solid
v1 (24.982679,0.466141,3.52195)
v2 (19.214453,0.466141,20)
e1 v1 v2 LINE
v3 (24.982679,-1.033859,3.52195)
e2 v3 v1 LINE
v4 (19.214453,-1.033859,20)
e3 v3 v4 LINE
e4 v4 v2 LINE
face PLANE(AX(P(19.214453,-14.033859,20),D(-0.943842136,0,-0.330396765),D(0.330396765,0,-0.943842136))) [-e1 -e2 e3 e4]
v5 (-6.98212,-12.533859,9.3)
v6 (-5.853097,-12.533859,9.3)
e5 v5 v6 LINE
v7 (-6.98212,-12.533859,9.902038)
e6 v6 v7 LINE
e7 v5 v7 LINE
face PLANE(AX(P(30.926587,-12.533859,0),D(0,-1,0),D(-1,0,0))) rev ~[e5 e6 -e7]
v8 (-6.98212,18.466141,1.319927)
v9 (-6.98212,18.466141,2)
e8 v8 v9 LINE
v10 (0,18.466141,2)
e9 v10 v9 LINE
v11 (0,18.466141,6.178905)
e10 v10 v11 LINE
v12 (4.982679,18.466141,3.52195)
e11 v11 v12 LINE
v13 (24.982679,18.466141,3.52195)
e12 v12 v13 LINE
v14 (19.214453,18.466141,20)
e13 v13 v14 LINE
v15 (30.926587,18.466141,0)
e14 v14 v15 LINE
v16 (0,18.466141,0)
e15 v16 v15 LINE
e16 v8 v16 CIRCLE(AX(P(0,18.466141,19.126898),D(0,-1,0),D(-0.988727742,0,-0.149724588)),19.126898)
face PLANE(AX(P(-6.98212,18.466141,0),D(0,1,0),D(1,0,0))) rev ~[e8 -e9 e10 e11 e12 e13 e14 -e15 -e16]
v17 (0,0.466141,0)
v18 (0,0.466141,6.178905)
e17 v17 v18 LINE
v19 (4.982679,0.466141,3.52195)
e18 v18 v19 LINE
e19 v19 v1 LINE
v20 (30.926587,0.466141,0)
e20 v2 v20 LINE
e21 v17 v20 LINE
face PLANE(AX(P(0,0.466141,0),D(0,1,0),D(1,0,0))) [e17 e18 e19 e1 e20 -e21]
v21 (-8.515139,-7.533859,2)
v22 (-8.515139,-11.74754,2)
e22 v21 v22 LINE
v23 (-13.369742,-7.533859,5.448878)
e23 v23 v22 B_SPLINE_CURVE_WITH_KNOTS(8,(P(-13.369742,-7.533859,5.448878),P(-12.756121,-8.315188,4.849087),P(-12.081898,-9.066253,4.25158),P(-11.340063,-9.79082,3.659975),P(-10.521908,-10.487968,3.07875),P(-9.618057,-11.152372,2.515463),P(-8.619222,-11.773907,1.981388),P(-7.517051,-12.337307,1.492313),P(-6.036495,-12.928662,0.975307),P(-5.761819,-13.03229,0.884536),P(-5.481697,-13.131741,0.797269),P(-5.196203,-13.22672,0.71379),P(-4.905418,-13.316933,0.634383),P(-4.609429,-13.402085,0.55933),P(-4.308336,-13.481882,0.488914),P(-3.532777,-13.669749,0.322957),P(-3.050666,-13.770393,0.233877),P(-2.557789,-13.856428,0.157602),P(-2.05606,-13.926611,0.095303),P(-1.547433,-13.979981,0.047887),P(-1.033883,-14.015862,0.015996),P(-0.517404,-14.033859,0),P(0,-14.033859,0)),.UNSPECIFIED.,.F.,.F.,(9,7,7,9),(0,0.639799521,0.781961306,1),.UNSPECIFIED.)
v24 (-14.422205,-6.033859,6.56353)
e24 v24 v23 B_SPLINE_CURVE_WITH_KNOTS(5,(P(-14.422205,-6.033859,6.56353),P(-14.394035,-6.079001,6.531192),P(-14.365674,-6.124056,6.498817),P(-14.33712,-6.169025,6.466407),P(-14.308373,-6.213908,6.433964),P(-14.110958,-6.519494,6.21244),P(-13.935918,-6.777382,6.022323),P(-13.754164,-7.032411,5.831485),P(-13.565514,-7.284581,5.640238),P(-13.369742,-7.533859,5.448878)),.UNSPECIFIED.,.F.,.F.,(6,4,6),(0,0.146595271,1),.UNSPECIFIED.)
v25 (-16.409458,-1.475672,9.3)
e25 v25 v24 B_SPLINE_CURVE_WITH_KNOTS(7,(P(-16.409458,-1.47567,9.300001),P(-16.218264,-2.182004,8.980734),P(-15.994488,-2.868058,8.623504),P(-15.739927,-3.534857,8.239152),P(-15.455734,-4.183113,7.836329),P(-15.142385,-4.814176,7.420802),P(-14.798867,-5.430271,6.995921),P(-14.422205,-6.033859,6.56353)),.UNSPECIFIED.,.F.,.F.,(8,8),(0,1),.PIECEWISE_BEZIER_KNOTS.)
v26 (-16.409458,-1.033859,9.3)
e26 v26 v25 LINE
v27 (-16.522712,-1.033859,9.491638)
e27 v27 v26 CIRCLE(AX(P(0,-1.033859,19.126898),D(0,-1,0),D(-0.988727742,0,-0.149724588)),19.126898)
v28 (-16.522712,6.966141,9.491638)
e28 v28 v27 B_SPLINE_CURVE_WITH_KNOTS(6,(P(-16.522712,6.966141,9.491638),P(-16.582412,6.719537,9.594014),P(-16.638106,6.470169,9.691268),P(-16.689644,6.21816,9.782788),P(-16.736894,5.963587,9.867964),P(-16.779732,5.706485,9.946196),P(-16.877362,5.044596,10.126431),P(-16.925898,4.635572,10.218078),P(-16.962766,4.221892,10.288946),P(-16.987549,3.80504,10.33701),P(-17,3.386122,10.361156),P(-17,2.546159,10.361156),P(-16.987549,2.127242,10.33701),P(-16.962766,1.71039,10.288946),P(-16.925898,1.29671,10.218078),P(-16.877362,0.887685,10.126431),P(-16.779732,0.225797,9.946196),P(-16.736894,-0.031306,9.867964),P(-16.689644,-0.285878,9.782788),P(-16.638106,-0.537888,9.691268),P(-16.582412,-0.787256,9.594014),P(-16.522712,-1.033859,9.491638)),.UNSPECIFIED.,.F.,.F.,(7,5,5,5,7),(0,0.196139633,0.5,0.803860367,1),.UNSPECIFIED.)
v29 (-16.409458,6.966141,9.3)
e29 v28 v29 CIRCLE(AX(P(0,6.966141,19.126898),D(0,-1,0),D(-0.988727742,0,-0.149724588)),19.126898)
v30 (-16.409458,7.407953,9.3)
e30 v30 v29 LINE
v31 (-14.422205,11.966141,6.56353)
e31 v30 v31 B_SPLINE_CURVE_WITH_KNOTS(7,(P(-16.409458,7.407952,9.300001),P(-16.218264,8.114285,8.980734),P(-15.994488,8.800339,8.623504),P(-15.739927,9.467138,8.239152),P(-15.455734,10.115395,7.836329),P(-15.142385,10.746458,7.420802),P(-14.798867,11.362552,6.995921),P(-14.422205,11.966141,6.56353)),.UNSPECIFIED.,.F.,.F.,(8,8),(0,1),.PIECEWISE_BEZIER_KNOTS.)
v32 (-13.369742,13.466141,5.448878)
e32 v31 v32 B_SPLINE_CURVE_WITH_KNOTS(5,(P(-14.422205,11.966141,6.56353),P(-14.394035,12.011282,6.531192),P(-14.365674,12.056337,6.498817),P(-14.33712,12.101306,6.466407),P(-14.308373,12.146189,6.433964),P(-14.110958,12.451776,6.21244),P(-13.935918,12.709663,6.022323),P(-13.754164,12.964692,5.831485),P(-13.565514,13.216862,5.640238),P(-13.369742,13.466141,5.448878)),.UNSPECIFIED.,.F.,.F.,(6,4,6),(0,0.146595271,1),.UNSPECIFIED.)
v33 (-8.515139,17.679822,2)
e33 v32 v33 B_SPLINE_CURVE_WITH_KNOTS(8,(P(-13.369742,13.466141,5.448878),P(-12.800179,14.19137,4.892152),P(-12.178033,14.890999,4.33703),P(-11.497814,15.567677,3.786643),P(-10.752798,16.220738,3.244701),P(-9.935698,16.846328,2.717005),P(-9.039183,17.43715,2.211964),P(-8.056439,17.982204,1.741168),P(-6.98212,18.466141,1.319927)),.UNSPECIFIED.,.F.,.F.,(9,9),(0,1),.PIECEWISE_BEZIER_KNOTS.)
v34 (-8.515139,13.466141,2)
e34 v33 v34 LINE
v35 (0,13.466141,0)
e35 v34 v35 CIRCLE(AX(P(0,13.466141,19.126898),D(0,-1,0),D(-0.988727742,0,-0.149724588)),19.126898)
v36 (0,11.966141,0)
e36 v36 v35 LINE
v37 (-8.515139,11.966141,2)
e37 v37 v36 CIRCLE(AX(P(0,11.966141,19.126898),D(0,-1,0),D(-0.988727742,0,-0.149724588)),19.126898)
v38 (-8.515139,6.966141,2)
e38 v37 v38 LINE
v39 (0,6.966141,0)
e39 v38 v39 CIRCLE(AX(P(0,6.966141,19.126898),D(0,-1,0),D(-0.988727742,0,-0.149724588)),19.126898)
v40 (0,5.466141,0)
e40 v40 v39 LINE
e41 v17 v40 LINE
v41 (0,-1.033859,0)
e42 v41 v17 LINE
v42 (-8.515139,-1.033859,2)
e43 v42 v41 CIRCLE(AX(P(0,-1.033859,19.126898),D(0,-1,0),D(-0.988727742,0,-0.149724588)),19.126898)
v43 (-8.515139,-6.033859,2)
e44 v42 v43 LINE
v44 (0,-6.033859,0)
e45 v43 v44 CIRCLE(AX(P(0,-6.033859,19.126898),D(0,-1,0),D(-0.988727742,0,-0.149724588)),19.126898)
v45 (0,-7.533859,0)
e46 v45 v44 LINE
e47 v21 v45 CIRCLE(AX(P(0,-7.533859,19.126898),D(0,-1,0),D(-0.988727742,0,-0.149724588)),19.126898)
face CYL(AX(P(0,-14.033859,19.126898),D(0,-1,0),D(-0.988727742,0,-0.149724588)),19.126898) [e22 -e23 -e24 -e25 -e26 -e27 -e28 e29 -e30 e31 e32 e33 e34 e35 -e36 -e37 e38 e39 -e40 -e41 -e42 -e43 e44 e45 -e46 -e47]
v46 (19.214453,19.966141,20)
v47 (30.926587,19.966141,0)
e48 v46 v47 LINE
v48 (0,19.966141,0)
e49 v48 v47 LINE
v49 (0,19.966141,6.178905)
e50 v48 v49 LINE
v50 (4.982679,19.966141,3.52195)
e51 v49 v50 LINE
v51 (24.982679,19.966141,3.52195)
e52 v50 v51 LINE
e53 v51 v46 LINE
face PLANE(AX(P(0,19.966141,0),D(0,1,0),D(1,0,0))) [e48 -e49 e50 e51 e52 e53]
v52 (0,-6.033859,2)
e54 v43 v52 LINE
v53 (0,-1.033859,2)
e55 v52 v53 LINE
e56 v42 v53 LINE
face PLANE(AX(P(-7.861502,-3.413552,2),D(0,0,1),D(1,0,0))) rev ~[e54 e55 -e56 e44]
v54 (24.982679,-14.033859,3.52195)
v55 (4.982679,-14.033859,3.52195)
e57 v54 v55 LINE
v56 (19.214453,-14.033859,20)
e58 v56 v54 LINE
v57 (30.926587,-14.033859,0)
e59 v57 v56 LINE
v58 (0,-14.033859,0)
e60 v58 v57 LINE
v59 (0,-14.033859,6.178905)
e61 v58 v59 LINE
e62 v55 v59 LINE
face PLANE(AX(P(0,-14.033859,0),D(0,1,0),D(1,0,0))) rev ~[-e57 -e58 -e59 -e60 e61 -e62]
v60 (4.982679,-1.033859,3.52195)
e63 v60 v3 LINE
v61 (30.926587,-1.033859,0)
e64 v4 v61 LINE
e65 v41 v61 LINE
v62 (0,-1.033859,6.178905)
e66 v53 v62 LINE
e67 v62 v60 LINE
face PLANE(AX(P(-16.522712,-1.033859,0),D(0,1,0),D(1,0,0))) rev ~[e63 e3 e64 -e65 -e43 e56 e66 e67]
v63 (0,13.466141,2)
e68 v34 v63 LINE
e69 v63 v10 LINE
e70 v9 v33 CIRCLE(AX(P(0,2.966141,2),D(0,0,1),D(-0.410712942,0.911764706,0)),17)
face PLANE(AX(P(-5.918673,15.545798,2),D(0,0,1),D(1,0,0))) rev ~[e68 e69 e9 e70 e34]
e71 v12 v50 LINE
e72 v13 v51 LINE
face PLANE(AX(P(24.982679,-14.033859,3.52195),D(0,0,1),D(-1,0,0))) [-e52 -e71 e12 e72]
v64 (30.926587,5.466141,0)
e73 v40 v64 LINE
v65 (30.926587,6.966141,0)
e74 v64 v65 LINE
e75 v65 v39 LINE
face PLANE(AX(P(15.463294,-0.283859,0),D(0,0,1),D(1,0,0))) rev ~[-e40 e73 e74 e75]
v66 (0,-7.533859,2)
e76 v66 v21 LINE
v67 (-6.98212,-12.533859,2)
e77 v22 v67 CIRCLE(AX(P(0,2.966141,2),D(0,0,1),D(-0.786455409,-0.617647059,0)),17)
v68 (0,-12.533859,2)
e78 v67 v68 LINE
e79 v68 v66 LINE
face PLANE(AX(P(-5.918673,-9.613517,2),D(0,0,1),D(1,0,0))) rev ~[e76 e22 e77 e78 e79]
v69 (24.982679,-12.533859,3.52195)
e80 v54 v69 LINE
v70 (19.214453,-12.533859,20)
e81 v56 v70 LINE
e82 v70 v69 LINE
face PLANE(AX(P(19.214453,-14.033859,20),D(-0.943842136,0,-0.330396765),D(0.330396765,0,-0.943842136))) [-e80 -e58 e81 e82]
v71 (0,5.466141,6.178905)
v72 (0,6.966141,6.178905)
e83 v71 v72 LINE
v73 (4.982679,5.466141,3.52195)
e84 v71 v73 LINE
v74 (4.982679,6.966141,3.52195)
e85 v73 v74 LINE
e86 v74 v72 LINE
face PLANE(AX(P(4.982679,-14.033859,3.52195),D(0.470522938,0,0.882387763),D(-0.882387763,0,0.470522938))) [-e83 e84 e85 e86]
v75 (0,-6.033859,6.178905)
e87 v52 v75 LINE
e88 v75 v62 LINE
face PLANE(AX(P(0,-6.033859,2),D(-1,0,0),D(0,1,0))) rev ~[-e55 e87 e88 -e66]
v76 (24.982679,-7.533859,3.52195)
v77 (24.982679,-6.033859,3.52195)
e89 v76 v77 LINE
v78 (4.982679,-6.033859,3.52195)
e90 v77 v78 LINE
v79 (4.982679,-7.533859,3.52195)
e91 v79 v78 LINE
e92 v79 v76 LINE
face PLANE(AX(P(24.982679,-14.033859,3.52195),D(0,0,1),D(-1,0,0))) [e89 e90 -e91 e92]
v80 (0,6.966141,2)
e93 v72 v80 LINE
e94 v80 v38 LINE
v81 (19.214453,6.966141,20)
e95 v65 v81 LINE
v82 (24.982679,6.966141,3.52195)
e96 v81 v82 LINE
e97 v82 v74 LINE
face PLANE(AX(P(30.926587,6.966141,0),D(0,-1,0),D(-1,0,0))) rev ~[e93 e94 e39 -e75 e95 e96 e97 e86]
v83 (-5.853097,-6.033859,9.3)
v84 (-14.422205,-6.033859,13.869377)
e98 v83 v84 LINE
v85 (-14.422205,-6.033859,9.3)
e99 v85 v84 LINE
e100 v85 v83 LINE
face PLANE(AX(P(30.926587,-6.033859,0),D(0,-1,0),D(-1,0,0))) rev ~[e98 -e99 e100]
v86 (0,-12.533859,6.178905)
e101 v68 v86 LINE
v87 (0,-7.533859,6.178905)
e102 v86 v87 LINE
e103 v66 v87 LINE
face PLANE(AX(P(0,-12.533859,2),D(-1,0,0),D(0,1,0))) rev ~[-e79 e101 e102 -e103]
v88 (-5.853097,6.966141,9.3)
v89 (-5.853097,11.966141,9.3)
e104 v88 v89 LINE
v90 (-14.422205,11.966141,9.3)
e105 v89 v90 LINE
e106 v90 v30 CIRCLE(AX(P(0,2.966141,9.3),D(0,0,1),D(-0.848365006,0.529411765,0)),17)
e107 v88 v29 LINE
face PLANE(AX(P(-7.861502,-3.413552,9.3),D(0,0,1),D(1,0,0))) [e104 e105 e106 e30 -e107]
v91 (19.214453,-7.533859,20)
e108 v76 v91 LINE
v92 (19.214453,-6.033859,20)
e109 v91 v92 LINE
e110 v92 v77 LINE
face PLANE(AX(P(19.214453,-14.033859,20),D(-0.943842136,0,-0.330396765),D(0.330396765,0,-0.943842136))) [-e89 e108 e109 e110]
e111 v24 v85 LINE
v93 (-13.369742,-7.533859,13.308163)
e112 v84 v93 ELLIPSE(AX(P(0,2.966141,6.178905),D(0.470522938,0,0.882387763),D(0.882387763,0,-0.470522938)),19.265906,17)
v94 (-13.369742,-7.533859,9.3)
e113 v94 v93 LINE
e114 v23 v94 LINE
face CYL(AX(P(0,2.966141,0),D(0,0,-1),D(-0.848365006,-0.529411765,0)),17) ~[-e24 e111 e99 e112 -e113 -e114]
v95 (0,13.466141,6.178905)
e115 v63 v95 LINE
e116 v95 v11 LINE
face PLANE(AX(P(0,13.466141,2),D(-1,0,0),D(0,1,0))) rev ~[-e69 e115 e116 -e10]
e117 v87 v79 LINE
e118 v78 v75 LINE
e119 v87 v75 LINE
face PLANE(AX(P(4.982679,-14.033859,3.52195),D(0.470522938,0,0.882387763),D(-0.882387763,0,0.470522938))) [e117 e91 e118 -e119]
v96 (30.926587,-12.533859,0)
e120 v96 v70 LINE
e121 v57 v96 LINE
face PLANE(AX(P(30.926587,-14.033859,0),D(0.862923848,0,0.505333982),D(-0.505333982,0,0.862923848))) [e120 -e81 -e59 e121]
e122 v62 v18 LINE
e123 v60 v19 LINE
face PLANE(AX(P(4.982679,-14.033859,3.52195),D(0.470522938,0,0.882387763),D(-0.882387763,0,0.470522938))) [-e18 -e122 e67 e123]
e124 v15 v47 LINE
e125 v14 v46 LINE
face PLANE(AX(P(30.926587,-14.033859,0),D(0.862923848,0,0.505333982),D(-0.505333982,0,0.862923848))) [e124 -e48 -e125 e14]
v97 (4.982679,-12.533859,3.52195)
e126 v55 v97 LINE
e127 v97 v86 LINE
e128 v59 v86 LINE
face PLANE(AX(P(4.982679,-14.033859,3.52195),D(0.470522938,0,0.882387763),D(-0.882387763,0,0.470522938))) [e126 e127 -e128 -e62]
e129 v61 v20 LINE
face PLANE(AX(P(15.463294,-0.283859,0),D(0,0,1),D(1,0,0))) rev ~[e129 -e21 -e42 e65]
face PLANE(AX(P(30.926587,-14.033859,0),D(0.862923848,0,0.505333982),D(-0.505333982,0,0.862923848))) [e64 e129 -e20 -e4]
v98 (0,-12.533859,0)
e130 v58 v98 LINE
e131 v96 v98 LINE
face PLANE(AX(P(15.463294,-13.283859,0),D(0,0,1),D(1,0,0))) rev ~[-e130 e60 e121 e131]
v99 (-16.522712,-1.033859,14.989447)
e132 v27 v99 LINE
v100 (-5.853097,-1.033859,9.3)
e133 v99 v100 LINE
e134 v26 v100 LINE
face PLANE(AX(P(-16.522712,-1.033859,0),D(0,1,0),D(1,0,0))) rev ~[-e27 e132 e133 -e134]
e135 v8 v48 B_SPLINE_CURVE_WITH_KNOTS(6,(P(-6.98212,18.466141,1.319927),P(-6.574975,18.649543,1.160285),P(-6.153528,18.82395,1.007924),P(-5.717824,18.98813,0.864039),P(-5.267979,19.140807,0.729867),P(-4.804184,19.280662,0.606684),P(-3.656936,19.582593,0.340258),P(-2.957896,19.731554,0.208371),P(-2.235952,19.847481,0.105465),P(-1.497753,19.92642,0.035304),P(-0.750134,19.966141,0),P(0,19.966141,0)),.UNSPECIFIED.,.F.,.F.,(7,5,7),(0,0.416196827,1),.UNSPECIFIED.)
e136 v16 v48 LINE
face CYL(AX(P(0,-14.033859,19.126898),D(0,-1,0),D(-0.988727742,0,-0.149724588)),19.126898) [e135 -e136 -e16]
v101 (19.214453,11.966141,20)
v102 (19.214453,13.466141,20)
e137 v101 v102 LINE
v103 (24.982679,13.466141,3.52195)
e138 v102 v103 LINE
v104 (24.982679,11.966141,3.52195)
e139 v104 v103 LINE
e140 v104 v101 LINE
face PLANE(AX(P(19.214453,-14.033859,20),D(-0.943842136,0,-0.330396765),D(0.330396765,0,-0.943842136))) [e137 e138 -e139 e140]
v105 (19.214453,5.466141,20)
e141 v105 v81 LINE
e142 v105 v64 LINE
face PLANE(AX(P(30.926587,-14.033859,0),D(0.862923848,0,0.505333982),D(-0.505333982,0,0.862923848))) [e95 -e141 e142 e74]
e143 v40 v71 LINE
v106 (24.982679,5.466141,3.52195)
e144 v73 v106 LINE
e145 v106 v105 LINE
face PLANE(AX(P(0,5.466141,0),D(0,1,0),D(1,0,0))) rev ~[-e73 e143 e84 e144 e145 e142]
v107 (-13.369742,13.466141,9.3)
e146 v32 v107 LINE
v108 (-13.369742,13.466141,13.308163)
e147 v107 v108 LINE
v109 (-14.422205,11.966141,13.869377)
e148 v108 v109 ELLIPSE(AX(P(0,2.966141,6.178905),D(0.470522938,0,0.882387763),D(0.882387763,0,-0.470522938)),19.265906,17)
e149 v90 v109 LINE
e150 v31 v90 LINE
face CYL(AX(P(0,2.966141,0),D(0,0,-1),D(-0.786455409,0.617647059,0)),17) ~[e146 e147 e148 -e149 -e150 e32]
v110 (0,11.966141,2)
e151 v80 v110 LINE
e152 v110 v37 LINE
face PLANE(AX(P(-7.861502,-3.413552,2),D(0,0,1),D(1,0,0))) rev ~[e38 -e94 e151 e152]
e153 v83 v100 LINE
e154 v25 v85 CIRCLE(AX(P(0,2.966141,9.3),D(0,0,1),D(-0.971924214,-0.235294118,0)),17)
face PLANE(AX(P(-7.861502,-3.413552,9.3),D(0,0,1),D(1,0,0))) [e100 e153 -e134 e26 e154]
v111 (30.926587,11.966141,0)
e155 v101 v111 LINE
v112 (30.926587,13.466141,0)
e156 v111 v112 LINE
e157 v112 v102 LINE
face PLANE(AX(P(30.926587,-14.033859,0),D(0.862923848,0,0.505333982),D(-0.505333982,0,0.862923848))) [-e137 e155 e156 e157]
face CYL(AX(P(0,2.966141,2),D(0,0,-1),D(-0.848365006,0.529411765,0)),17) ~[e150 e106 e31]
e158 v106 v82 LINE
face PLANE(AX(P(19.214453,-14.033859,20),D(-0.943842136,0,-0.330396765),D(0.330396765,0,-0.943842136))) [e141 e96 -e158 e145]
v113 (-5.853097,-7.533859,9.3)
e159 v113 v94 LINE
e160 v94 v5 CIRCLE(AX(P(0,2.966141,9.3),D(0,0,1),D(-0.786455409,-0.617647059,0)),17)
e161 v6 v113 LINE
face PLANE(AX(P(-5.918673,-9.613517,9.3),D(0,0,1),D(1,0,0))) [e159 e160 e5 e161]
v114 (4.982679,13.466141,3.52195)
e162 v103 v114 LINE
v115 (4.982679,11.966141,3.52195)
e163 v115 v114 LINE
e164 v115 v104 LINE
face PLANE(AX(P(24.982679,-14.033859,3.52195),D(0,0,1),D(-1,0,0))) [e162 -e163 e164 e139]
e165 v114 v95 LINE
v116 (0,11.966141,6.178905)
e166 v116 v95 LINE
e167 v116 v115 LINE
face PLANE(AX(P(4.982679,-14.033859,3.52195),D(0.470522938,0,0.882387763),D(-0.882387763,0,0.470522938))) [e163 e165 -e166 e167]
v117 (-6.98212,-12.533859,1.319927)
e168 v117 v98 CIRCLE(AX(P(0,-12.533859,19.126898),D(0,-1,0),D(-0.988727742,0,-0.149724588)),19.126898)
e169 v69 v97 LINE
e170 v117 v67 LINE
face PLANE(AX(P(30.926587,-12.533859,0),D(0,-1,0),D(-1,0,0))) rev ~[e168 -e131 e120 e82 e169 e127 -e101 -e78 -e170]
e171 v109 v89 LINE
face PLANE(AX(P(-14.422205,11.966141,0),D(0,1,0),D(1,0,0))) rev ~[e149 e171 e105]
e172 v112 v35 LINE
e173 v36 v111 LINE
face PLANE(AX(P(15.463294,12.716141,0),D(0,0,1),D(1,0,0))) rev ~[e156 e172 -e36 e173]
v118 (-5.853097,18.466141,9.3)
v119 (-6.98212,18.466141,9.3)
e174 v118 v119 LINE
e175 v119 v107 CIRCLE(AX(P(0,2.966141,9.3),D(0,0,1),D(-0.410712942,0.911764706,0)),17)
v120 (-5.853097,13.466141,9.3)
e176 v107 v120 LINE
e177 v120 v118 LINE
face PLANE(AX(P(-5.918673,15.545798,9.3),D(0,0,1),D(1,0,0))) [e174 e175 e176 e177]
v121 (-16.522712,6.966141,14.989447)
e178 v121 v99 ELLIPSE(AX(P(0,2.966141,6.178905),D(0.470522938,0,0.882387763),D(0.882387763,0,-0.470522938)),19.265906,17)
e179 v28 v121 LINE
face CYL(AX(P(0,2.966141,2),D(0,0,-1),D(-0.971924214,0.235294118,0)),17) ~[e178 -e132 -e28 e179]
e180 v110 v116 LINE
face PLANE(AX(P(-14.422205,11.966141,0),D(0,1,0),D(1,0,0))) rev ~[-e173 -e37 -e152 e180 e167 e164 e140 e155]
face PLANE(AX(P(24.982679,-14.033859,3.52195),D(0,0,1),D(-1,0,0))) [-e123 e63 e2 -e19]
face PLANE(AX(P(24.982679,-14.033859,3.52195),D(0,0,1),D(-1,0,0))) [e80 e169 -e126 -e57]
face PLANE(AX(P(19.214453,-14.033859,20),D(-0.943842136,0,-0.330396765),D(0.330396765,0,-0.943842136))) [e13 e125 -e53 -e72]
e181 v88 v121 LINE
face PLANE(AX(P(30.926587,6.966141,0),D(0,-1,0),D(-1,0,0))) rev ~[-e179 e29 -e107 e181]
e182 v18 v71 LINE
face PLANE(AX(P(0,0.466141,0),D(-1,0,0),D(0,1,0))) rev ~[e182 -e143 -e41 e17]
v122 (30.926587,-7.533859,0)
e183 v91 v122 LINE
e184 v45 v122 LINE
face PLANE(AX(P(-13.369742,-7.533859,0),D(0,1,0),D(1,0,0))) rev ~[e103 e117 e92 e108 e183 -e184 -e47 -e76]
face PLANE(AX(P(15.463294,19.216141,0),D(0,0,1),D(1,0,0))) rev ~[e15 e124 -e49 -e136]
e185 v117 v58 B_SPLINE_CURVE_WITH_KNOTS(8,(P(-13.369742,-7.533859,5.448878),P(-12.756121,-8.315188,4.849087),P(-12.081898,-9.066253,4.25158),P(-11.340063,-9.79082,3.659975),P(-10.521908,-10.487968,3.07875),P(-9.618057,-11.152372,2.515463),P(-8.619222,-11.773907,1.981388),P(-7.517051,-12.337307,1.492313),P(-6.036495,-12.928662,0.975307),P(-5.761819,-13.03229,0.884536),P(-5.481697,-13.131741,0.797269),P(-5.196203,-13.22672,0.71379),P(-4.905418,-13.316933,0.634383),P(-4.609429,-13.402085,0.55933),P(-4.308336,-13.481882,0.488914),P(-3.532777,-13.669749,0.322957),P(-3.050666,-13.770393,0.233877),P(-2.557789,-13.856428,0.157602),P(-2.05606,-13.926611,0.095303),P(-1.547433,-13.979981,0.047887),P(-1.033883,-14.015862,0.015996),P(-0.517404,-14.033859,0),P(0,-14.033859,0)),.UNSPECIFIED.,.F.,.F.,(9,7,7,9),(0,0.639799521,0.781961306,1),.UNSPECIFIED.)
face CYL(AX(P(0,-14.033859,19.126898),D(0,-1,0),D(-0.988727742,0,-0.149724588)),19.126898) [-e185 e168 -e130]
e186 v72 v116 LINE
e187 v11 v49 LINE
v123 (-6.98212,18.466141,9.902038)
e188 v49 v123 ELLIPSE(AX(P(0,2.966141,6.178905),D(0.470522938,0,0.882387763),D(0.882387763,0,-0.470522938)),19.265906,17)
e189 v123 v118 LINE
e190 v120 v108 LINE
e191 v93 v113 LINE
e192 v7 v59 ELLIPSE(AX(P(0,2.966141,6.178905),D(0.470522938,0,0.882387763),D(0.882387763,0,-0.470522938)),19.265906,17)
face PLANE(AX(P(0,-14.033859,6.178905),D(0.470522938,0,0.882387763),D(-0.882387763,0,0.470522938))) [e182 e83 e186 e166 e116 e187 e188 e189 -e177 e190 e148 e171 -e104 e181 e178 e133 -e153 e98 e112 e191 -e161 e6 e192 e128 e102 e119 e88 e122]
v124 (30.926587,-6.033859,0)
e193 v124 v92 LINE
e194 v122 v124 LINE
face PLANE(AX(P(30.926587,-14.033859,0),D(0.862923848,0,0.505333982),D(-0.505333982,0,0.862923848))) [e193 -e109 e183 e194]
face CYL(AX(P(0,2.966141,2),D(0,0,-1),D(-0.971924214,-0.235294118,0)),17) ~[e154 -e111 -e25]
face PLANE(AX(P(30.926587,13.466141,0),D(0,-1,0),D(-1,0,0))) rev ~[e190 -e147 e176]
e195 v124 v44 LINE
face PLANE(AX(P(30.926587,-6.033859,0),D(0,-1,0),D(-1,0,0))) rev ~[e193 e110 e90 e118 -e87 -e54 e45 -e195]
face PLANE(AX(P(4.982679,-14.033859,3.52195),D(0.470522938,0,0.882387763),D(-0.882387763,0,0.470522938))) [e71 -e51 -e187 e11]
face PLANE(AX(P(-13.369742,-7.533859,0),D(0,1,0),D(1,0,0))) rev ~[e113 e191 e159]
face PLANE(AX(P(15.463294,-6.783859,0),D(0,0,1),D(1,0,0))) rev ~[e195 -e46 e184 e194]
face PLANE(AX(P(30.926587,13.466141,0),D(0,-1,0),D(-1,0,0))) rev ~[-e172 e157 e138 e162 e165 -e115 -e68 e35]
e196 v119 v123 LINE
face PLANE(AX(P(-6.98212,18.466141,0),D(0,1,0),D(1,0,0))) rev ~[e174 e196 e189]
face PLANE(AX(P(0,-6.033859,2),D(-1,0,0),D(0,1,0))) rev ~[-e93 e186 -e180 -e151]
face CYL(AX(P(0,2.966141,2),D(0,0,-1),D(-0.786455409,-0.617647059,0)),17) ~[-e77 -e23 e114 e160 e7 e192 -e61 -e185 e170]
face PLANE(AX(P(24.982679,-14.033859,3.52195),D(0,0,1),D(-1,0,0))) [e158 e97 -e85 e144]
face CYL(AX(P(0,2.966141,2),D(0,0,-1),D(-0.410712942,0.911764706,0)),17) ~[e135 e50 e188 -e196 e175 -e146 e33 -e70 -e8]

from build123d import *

# Parameters (mm, degrees)
F0_W     = 30.9265870601
F0_H     = 1.5
F1_DEPTH = 20
F2_START = 2
F2_DEPTH = 7.3
F4_DEPTH = 40


with BuildPart() as f1:
    # F0 (on Top) → F1 (new body)
    with BuildSketch(Plane.XY):
        with Locations((15.46329353, -13.2838593498)):
            Rectangle(F0_W, F0_H)
        with BuildLine():
            ThreePointArc((-6.9821200219, -12.5338593498), (-3.5707142143, -13.6546294884), (0, -14.0338593498))
            Line((0, -14.0338593498), (0, -12.5338593498))
            Line((0, -12.5338593498), (-6.9821200219, -12.5338593498))
        make_face()
    extrude(amount=F1_DEPTH)



with BuildPart() as f1b:
    # F0 (on Top) → F1, piece 2 (new body)
    with BuildSketch(Plane.XY):
        with Locations((15.46329353, -6.7838593498)):
            Rectangle(F0_W, F0_H)
        with BuildLine():
            Line((-13.3697419571, -7.5338593498), (0, -7.5338593498))
            Line((0, -7.5338593498), (0, -6.0338593498))
            Line((0, -6.0338593498), (-14.4222051019, -6.0338593498))
            ThreePointArc((-14.4222051019, -6.0338593498), (-13.9161984871, -6.7980500314), (-13.3697419571, -7.5338593498))
        make_face()
    extrude(amount=F1_DEPTH)


with BuildPart() as f1c:
    # F0 (on Top) → F1, piece 3 (new body)
    with BuildSketch(Plane.XY):
        with Locations((15.46329353, -0.2838593498)):
            Rectangle(F0_W, F0_H)
        with Locations((15.46329353, 6.2161406502)):
            Rectangle(F0_W, F0_H)
        with BuildLine():
            Line((-16.5227116419, -1.0338593498), (0, -1.0338593498))
            Line((0, -1.0338593498), (0, 0.4661406502))
            Line((0, 0.4661406502), (0, 5.4661406502))
            Line((0, 5.4661406502), (0, 6.9661406502))
            Line((0, 6.9661406502), (-16.5227116419, 6.9661406502))
            ThreePointArc((-16.5227116419, 6.9661406502), (-17, 2.9661406502), (-16.5227116419, -1.0338593498))
        make_face()
    extrude(amount=F1_DEPTH)


with BuildPart() as f1d:
    # F0 (on Top) → F1, piece 4 (new body)
    with BuildSketch(Plane.XY):
        with Locations((15.46329353, 12.7161406502)):
            Rectangle(F0_W, F0_H)
        with BuildLine():
            ThreePointArc((-13.3697419571, 13.4661406502), (-13.9161984871, 12.7303313319), (-14.4222051019, 11.9661406502))
            Line((-14.4222051019, 11.9661406502), (0, 11.9661406502))
            Line((0, 11.9661406502), (0, 13.4661406502))
            Line((0, 13.4661406502), (-13.3697419571, 13.4661406502))
        make_face()
    extrude(amount=F1_DEPTH)


with BuildPart() as f1e:
    # F0 (on Top) → F1, piece 5 (new body)
    with BuildSketch(Plane.XY):
        with Locations((15.46329353, 19.2161406502)):
            Rectangle(F0_W, F0_H)
        with BuildLine():
            ThreePointArc((0, 19.9661406502), (-3.5707142143, 19.5869107888), (-6.9821200219, 18.4661406502))
            Line((-6.9821200219, 18.4661406502), (0, 18.4661406502))
            Line((0, 18.4661406502), (0, 19.9661406502))
        make_face()
    extrude(amount=F1_DEPTH)


with BuildPart() as f1_1:
    add(f1.part)

    add(f1b.part)  # F2 merges F1b

    add(f1c.part)  # F2 merges F1c

    add(f1d.part)  # F2 merges F1d

    add(f1e.part)  # F2 merges F1e
    # F0 (on Top) → F2 (join)
    with BuildSketch(Plane.XY.offset(F2_START)):
        with BuildLine():
            Line((-6.9821200219, -12.5338593498), (0, -12.5338593498))
            Line((0, -12.5338593498), (0, -7.5338593498))
            Line((0, -7.5338593498), (-13.3697419571, -7.5338593498))
            ThreePointArc((-13.3697419571, -7.5338593498), (-10.4785290715, -10.4204357791), (-6.9821200219, -12.5338593498))
        make_face()
        with BuildLine():
            Line((-14.4222051019, -6.0338593498), (0, -6.0338593498))
            Line((0, -6.0338593498), (0, -1.0338593498))
            Line((0, -1.0338593498), (-16.5227116419, -1.0338593498))
            ThreePointArc((-16.5227116419, -1.0338593498), (-15.6731288538, -3.6181612817), (-14.4222051019, -6.0338593498))
        make_face()
        with BuildLine():
            Line((-16.5227116419, -1.0338593498), (0, -1.0338593498))
            Line((0, -1.0338593498), (0, 0.4661406502))
            Line((0, 0.4661406502), (0, 5.4661406502))
            Line((0, 5.4661406502), (0, 6.9661406502))
            Line((0, 6.9661406502), (-16.5227116419, 6.9661406502))
            ThreePointArc((-16.5227116419, 6.9661406502), (-17, 2.9661406502), (-16.5227116419, -1.0338593498))
        make_face()
        with BuildLine():
            ThreePointArc((-14.4222051019, 11.9661406502), (-15.6731288538, 9.5504425822), (-16.5227116419, 6.9661406502))
            Line((-16.5227116419, 6.9661406502), (0, 6.9661406502))
            Line((0, 6.9661406502), (0, 11.9661406502))
            Line((0, 11.9661406502), (-14.4222051019, 11.9661406502))
        make_face()
        with BuildLine():
            ThreePointArc((-6.9821200219, 18.4661406502), (-10.4785290715, 16.3527170795), (-13.3697419571, 13.4661406502))
            Line((-13.3697419571, 13.4661406502), (0, 13.4661406502))
            Line((0, 13.4661406502), (0, 18.4661406502))
            Line((0, 18.4661406502), (-6.9821200219, 18.4661406502))
        make_face()
    extrude(amount=F2_DEPTH)

    # F3 (on face) → F4 (intersect)
    with BuildSketch(Plane.XZ.offset(14.0338593498)):
        with BuildLine():
            Line((0, 6.1789047227), (-18.9112946391, 16.2631310523))
            ThreePointArc((-18.9112946391, 16.2631310523), (-12.4712318613, 4.6249463152), (0, 0))
            Line((0, 0), (0, 6.1789047227))
        make_face()
        Polygon((0, 6.1789047227), (0, 0), (30.9265870601, 0), (19.2144531757, 20), (24.9826789947, 3.5219495185), (4.9826789947, 3.5219495185), align=None)
    extrude(amount=-F4_DEPTH, mode=Mode.INTERSECT)


solid = f1_1.part
